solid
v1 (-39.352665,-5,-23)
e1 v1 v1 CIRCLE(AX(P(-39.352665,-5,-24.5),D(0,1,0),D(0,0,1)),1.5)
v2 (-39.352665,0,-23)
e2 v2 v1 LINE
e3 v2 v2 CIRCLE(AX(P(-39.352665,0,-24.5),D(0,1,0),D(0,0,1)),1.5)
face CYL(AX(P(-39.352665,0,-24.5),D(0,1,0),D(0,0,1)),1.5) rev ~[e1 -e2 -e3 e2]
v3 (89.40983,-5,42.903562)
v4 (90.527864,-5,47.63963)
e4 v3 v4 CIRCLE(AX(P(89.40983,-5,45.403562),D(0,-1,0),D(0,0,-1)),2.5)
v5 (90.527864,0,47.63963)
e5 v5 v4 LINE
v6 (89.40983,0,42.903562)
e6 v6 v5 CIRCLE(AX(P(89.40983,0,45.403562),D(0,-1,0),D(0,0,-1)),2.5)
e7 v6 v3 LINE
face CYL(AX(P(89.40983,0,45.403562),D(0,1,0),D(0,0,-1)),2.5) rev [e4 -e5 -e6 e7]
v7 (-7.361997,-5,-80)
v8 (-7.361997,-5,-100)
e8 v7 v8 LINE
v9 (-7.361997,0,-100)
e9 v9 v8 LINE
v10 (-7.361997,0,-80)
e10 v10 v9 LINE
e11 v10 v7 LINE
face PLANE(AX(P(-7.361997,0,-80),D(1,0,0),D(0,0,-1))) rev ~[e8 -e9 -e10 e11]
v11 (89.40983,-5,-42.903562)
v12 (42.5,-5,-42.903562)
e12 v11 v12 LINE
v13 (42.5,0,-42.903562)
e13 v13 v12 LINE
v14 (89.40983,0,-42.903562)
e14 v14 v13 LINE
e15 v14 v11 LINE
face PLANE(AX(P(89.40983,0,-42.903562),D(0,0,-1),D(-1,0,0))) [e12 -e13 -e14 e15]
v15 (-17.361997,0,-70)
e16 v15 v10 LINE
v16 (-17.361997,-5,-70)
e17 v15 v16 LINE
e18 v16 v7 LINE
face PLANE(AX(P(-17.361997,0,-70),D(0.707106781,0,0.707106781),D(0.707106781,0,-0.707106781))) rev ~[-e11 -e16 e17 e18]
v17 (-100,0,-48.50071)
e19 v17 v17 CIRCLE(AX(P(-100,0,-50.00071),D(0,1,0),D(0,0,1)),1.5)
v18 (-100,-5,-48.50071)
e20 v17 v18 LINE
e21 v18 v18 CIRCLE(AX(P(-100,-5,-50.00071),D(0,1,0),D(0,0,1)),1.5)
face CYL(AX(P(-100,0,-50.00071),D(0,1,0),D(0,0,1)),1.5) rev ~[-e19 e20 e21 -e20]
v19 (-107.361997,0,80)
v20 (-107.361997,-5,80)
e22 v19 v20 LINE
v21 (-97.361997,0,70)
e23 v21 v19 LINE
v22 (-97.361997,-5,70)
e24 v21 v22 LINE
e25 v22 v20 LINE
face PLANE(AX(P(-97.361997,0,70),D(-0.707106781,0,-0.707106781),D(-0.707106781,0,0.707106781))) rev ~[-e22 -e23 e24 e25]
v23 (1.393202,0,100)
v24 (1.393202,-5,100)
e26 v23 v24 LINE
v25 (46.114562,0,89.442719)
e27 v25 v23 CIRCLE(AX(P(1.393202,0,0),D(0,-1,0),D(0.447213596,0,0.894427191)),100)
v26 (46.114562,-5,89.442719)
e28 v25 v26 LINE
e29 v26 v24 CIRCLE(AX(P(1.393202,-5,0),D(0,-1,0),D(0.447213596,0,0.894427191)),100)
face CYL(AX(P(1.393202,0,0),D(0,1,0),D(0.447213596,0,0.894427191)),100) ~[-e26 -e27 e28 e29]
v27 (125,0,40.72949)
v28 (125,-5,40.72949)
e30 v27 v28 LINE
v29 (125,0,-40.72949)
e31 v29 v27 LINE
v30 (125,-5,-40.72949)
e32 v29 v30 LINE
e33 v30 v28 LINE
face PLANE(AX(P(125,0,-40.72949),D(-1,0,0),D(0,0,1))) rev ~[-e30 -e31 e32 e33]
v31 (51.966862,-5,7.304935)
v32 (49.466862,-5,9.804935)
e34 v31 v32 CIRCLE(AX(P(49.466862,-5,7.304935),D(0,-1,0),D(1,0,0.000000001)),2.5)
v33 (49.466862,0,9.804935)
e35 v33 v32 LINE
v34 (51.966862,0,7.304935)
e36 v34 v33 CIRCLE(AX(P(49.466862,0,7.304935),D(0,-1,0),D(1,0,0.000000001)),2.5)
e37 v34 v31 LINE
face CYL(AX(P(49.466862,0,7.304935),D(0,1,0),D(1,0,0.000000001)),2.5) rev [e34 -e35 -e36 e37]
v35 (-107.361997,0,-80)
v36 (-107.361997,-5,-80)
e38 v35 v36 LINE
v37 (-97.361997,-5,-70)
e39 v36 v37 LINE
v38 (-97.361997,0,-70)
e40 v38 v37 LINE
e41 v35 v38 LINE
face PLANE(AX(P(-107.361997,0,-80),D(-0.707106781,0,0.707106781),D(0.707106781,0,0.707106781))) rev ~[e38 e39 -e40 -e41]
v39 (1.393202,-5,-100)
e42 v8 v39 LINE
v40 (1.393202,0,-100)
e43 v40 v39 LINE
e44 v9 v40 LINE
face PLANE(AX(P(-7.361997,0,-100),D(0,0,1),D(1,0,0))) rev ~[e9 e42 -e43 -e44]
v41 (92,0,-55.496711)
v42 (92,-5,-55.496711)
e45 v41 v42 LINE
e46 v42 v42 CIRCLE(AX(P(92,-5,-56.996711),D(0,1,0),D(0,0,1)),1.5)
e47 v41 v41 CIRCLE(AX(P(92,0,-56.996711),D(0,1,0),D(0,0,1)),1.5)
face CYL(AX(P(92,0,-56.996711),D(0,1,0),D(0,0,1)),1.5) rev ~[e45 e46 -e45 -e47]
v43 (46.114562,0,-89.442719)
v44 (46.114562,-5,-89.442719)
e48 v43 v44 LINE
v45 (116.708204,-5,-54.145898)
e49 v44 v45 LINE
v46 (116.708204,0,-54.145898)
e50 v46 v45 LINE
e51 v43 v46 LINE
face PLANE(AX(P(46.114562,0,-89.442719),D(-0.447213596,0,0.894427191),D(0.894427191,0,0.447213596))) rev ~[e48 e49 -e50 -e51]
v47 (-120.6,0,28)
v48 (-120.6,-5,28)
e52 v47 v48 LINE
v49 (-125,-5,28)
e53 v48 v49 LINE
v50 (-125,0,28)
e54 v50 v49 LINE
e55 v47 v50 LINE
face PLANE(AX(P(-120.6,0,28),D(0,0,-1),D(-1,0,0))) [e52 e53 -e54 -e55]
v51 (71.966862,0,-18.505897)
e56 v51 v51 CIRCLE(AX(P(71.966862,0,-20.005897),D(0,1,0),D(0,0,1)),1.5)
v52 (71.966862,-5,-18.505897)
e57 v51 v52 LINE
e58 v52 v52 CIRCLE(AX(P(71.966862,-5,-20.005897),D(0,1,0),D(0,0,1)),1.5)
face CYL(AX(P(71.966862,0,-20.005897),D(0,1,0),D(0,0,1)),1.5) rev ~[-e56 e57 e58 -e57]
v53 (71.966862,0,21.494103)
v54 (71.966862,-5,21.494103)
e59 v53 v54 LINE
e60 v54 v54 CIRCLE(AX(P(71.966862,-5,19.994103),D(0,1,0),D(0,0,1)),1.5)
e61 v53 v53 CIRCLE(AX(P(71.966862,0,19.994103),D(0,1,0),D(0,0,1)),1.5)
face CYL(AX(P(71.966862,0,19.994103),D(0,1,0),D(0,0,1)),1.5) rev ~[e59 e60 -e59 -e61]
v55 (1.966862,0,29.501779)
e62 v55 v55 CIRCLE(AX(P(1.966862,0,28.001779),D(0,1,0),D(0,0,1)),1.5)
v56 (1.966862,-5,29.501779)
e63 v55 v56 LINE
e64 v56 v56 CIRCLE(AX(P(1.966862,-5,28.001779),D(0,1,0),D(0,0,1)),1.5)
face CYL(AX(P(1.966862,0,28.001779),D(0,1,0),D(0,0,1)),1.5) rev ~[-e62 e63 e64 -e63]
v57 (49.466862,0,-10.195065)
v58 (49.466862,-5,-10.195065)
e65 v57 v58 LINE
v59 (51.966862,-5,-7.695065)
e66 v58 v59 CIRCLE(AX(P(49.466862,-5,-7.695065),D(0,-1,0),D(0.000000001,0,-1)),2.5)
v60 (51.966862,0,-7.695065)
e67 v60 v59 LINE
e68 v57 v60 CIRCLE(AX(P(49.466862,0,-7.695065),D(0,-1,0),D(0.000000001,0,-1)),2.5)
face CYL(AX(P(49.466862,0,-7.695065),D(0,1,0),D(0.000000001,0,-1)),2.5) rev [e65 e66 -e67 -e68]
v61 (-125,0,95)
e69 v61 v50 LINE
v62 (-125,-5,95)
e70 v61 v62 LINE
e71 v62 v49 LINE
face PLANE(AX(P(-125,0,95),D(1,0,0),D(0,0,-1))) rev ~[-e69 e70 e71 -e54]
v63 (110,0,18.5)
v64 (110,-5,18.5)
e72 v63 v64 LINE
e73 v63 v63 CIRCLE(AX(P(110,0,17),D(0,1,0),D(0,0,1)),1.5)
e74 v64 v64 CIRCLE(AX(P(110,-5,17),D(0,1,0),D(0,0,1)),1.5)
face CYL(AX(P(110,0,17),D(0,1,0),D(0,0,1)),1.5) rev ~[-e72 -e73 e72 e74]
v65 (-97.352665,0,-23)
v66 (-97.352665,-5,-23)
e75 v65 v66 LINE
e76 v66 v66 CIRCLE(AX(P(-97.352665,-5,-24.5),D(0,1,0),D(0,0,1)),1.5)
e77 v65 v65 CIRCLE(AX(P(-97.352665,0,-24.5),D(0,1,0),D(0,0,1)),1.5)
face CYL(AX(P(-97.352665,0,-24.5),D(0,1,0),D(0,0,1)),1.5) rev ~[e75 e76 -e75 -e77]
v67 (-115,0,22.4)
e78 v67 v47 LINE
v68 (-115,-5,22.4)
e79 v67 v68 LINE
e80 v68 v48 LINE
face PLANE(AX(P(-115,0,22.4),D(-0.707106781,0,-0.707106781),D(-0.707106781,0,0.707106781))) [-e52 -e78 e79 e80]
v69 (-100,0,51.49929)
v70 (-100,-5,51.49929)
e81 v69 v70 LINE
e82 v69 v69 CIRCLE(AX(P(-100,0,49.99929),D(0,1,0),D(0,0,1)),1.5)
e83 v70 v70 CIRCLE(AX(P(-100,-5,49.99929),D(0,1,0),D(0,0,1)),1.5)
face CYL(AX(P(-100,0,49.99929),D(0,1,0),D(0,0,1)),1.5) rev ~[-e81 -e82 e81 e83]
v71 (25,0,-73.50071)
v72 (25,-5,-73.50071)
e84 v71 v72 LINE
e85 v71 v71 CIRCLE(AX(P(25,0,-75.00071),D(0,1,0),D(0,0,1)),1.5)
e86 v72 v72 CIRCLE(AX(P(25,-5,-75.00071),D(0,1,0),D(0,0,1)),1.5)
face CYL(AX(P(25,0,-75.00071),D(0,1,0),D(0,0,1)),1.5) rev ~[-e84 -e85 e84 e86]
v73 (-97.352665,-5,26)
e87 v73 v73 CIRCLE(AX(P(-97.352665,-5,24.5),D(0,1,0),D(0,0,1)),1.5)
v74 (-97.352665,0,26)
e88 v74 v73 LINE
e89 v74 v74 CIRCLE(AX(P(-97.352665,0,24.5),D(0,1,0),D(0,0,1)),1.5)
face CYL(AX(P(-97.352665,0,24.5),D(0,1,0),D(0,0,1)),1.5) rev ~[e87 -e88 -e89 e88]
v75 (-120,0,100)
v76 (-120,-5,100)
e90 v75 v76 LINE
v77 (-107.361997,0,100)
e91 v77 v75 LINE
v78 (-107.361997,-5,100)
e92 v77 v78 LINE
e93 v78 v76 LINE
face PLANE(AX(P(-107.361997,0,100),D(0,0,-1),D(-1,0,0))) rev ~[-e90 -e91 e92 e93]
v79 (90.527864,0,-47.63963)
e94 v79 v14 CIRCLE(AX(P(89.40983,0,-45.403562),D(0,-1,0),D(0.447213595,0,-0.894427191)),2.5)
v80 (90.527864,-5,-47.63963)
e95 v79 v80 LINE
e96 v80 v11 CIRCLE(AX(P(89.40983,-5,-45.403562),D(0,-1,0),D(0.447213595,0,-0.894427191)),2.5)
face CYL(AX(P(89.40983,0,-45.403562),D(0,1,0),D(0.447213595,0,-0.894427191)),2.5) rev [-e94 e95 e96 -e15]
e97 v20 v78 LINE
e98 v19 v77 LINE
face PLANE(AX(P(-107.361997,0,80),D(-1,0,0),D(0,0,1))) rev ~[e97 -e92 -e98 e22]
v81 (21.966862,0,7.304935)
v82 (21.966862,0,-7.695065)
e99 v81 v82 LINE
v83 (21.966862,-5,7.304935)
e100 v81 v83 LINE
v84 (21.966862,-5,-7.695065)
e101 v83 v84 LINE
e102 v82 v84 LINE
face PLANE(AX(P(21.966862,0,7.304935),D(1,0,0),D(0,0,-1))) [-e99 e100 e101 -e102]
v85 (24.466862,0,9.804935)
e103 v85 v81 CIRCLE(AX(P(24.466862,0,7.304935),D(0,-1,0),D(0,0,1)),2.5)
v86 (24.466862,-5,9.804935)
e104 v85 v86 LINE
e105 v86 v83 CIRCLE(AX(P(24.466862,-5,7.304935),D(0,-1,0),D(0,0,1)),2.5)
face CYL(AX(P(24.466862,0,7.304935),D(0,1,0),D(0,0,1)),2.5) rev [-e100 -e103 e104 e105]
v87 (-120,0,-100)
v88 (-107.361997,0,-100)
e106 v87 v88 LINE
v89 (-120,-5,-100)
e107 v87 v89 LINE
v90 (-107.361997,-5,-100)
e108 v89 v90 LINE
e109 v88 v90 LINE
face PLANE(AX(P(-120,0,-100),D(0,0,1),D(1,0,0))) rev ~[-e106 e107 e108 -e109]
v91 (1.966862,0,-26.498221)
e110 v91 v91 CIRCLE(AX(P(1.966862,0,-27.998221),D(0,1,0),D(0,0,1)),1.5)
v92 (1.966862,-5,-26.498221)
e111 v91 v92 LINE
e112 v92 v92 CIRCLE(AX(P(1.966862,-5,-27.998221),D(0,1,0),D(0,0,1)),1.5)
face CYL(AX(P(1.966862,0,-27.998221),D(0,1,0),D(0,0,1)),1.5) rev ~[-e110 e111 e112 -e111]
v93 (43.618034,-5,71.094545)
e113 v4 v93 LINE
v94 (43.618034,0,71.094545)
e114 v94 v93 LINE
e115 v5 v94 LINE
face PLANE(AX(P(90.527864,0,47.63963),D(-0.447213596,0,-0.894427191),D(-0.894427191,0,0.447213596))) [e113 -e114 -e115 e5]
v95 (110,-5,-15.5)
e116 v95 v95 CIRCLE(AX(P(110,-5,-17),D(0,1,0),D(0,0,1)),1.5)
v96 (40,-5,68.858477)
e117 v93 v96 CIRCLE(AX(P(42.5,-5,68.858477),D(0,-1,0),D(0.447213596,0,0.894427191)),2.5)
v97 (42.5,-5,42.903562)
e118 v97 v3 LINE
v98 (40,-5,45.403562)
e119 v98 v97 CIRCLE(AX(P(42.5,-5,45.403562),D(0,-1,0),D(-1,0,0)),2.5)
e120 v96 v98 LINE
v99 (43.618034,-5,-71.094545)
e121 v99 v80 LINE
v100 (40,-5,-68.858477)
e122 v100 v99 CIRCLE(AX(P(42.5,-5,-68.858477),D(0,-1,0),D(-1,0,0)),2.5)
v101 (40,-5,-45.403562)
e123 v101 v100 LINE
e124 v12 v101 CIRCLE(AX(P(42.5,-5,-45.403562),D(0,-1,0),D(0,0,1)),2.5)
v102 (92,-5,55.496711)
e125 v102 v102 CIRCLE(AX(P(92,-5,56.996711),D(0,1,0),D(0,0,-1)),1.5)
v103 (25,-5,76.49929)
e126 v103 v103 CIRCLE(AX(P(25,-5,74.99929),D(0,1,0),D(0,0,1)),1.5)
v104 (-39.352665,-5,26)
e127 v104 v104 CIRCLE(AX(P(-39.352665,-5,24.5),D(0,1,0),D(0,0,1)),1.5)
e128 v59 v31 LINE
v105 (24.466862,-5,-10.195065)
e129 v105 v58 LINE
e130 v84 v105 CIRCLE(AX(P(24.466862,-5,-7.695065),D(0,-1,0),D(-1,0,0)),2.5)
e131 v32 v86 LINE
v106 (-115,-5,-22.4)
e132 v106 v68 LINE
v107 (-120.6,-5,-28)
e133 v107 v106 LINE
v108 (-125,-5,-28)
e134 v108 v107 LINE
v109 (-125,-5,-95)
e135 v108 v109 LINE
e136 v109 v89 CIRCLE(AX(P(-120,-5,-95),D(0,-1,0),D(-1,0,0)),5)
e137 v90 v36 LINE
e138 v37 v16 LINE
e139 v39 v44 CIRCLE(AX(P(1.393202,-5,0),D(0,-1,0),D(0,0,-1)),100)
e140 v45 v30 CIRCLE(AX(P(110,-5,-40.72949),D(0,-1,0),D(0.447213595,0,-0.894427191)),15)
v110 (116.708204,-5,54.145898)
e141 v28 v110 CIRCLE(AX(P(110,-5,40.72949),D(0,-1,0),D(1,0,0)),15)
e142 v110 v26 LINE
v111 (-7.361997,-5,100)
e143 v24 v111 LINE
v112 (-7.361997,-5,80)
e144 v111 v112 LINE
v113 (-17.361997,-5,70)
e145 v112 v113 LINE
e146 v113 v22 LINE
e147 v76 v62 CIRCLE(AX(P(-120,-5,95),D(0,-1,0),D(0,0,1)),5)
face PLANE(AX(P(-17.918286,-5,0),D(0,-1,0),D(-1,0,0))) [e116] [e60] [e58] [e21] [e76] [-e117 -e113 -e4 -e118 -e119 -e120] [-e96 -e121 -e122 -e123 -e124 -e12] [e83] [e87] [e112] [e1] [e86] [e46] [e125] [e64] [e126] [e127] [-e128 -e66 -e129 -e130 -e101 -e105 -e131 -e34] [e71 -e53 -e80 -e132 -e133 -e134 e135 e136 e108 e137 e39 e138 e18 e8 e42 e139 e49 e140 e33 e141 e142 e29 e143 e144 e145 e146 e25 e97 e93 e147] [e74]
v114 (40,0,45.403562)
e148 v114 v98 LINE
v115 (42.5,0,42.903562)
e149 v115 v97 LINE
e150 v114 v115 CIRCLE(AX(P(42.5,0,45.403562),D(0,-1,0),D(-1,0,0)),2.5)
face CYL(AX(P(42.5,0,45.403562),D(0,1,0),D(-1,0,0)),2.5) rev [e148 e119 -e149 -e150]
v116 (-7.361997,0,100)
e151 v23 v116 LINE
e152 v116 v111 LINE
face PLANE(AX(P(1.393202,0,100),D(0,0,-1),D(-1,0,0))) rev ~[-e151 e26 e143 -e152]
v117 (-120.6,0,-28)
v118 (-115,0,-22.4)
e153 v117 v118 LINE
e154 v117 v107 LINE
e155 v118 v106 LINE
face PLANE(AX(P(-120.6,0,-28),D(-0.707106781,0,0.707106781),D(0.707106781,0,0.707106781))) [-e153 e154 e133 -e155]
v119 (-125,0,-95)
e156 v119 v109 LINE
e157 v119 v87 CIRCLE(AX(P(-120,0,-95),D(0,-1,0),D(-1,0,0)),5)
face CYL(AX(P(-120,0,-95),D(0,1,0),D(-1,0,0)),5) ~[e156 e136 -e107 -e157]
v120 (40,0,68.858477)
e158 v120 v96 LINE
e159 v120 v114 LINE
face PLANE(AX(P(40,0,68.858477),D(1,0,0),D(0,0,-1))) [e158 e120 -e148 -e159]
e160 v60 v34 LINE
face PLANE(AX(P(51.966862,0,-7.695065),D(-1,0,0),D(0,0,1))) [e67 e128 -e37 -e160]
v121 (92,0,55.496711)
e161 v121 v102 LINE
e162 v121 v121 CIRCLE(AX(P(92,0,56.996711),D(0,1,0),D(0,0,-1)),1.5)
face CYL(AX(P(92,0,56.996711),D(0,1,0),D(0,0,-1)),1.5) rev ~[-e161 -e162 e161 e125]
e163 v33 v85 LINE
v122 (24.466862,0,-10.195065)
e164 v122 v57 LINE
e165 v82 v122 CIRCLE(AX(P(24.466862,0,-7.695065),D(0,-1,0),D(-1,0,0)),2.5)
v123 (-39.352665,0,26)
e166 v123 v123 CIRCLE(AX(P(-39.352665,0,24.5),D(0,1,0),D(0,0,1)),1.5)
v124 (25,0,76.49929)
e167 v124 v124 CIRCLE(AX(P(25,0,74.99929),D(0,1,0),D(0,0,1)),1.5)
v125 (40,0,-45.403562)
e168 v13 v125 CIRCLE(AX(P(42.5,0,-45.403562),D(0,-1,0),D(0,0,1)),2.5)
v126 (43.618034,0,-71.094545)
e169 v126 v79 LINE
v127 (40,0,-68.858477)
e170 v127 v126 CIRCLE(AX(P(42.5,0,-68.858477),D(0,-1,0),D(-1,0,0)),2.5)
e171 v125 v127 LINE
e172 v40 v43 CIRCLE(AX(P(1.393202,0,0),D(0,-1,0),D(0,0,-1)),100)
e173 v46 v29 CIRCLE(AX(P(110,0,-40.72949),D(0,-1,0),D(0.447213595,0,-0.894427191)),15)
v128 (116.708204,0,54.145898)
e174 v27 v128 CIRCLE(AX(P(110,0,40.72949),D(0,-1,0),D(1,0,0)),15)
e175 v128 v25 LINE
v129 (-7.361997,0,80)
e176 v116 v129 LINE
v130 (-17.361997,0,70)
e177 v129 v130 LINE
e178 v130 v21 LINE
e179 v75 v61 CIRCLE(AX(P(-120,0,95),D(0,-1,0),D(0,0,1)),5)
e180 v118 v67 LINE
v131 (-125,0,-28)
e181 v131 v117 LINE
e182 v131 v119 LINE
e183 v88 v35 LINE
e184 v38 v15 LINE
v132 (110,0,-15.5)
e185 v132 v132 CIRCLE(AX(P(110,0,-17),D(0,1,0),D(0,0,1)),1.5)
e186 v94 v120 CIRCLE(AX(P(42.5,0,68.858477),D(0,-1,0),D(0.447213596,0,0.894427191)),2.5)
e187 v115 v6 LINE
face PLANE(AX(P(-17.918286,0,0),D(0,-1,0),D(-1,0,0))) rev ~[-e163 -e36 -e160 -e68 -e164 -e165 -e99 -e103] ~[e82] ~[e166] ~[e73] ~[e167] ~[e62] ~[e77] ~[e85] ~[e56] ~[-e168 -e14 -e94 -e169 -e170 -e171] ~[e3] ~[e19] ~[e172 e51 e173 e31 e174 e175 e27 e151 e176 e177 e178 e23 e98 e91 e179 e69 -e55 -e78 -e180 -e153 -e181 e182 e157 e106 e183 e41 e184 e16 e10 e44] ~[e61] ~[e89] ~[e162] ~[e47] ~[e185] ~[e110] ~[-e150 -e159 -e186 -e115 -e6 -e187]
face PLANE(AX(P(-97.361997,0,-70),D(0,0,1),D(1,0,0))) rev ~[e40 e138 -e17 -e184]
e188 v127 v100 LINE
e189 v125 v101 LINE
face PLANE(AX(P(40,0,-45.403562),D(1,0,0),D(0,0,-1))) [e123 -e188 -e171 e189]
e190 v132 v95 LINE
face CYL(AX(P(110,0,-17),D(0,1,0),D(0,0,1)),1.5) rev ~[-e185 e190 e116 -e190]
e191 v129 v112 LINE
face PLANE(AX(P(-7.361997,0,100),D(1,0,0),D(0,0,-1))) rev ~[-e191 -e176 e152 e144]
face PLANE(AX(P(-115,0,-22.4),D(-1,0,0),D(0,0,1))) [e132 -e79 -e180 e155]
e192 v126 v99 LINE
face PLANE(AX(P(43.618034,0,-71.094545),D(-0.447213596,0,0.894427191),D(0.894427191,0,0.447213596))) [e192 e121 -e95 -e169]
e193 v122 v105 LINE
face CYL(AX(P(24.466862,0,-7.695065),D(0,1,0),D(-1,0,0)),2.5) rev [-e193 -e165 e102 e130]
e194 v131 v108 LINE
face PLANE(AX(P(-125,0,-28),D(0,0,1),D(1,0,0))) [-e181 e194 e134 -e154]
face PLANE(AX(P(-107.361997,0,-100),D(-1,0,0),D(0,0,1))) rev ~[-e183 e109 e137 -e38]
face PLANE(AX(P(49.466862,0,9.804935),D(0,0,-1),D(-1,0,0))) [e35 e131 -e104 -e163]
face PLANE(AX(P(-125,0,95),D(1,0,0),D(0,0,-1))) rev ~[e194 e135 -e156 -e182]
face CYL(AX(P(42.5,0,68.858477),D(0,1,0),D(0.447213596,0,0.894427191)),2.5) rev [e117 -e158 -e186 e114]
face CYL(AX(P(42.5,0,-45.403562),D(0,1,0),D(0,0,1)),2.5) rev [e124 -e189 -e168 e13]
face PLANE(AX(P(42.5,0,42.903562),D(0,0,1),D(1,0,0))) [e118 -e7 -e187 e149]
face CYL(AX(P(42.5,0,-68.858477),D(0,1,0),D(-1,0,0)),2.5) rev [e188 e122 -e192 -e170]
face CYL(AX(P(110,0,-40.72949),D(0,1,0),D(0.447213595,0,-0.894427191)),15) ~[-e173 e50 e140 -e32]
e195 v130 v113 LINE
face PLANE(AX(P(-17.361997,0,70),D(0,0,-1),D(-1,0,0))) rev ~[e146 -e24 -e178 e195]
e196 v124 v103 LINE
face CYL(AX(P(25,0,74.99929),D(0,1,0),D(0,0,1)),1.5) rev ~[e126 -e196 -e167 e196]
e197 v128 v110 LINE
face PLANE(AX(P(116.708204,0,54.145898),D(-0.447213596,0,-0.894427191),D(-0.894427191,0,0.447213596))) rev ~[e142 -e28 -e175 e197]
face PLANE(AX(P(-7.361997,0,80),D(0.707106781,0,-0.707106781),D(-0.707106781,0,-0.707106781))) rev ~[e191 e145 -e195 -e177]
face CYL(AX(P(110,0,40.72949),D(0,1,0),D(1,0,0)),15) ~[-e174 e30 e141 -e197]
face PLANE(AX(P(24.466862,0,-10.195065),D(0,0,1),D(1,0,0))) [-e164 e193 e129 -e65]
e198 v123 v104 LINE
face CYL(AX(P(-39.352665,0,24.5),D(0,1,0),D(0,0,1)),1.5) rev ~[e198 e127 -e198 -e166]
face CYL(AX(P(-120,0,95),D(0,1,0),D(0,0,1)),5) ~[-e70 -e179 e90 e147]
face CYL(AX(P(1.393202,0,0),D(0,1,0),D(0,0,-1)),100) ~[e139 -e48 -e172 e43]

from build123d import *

# Parameters (mm, degrees)
BOSS_EXTRUDE2_DEPTH = 5
SKETCH7_R           = 1.5
CUT_EXTRUDE6_DEPTH  = 5
SKETCH2_R           = 1.5
CUT_EXTRUDE7_DEPTH  = 5
SKETCH4_R           = 1.5
CUT_EXTRUDE8_DEPTH  = 5
SKETCH10_R          = 1.5
CUT_EXTRUDE9_DEPTH  = 5
CUT_EXTRUDE10_DEPTH = 5
SKETCH15_R          = 1.5
CUT_EXTRUDE11_DEPTH = 161.15617378
CUT_EXTRUDE12_DEPTH = 5


with BuildPart() as part:
    # Sketch1 → Boss-Extrude2 (new body)
    with BuildSketch(Plane(origin=(0, 0, 0), x_dir=(1, 0, 0), z_dir=(0, 1, 0))):
        with BuildLine():
            Line((-120, 100), (-107.361996995, 100))
            Line((-107.361996995, 100), (-107.361996995, 80))
            Line((-107.361996995, 80), (-97.361996995, 70))
            Line((-97.361996995, 70), (-17.361996995, 70))
            Line((-17.361996995, 70), (-7.361996995, 80))
            Line((-7.361996995, 80), (-7.361996995, 100))
            Line((-7.361996995, 100), (1.39320225, 100))
            ThreePointArc((1.39320225, 100), (24.368494305, 97.324898947), (46.1145618, 89.4427191))
            Line((46.1145618, 89.4427191), (116.708203932, 54.145898034))
            ThreePointArc((116.708203932, 54.145898034), (122.759762125, 48.615456851), (125, 40.729490169))
            Line((125, 40.729490169), (125, -40.729490169))
            ThreePointArc((125, -40.729490169), (122.759762125, -48.615456851), (116.708203932, -54.145898034))
            Line((116.708203932, -54.145898034), (46.1145618, -89.4427191))
            ThreePointArc((46.1145618, -89.4427191), (24.368494305, -97.324898947), (1.39320225, -100))
            Line((1.39320225, -100), (-7.361996995, -100))
            Line((-7.361996995, -100), (-7.361996995, -80))
            Line((-7.361996995, -80), (-17.361996995, -70))
            Line((-17.361996995, -70), (-97.361996995, -70))
            Line((-97.361996995, -70), (-107.361996995, -80))
            Line((-107.361996995, -80), (-107.361996995, -100))
            Line((-107.361996995, -100), (-120, -100))
            ThreePointArc((-120, -100), (-123.535533906, -98.535533906), (-125, -95))
            Line((-125, -95), (-125, 95))
            ThreePointArc((-125, 95), (-123.535533906, 98.535533906), (-120, 100))
        make_face()
    extrude(amount=-BOSS_EXTRUDE2_DEPTH)

    # Sketch7 → Cut-Extrude6 (cut)
    with BuildSketch(Plane(origin=(0, 0, 0), x_dir=(1, 0, 0), z_dir=(0, 1, 0))):
        with Locations(Location((1.966861521, 27.998221343, 0), (0, 0, 270))):
            Circle(SKETCH7_R)
        with Locations(Location((71.966861521, 20.005897242, 0), (0, 0, 270))):
            Circle(SKETCH7_R)
        with Locations(Location((1.966861521, -28.001778657, 0), (0, 0, 270))):
            Circle(SKETCH7_R)
        with Locations(Location((71.966861521, -19.994102758, 0), (0, 0, 270))):
            Circle(SKETCH7_R)
        with BuildLine():
            Line((24.466861521, 10.195064991), (49.466861521, 10.195064991))
            ThreePointArc((49.466861521, 10.195064991), (51.234628473, 9.462831944), (51.966861521, 7.695064991))
            Line((51.966861521, 7.695064991), (51.966861521, -7.304935009))
            ThreePointArc((51.966861521, -7.304935009), (51.234628473, -9.072701962), (49.466861521, -9.804935009))
            Line((49.466861521, -9.804935009), (24.466861521, -9.804935009))
            ThreePointArc((24.466861521, -9.804935009), (22.699094568, -9.072701962), (21.966861521, -7.304935009))
            Line((21.966861521, -7.304935009), (21.966861521, 7.695064991))
            ThreePointArc((21.966861521, 7.695064991), (22.699094568, 9.462831944), (24.466861521, 10.195064991))
        make_face()
    extrude(amount=-CUT_EXTRUDE6_DEPTH, mode=Mode.SUBTRACT)

    # Sketch2 → Cut-Extrude7 (cut)
    with BuildSketch(Plane(origin=(0, 0, 0), x_dir=(1, 0, 0), z_dir=(0, 1, 0))):
        with Locations(Location((110, 17, 0), (0, 0, 270))):
            Circle(SKETCH2_R)
        with Locations(Location((110, -17, 0), (0, 0, 270))):
            Circle(SKETCH2_R)
    extrude(amount=-CUT_EXTRUDE7_DEPTH, mode=Mode.SUBTRACT)

    # Sketch4 → Cut-Extrude8 (cut)
    with BuildSketch(Plane(origin=(0, 0, 0), x_dir=(1, 0, 0), z_dir=(0, 1, 0))):
        with Locations(Location((-97.352664983, -24.5, 0), (0, 0, 270))):
            Circle(SKETCH4_R)
        with Locations(Location((-39.352664983, 24.5, 0), (0, 0, 270))):
            Circle(SKETCH4_R)
        with Locations(Location((-97.352664983, 24.5, 0), (0, 0, 270))):
            Circle(SKETCH4_R)
        with Locations(Location((-39.352664983, -24.5, 0), (0, 0, 270))):
            Circle(SKETCH4_R)
    extrude(amount=-CUT_EXTRUDE8_DEPTH, mode=Mode.SUBTRACT)

    # Sketch10 → Cut-Extrude9 (cut)
    with BuildSketch(Plane(origin=(0, 0, 0), x_dir=(1, 0, 0), z_dir=(0, 1, 0))):
        with Locations(Location((-100, 50.00070964, 0), (0, 0, 270))):
            Circle(SKETCH10_R)
        with Locations(Location((-100, -49.99929036, 0), (0, 0, 270))):
            Circle(SKETCH10_R)
        with Locations(Location((25, 75.00070964, 0), (0, 0, 270))):
            Circle(SKETCH10_R)
        with Locations(Location((25, -74.99929036, 0), (0, 0, 270))):
            Circle(SKETCH10_R)
    extrude(amount=-CUT_EXTRUDE9_DEPTH, mode=Mode.SUBTRACT)

    # Sketch11 → Cut-Extrude10 (cut)
    with BuildSketch(Plane(origin=(0, 0, 0), x_dir=(1, 0, 0), z_dir=(0, 1, 0))):
        with BuildLine():
            Line((43.618033989, 71.094545302), (90.527864045, 47.639630274))
            ThreePointArc((90.527864045, 47.639630274), (91.84295253, 44.829179995), (89.409830056, 42.903562297))
            Line((89.409830056, 42.903562297), (42.5, 42.903562297))
            ThreePointArc((42.5, 42.903562297), (40.732233047, 43.635795344), (40, 45.403562297))
            Line((40, 45.403562297), (40, 68.858477325))
            ThreePointArc((40, 68.858477325), (41.18567222, 70.985104346), (43.618033989, 71.094545302))
        make_face()
        with BuildLine():
            Line((40, -68.858477325), (40, -45.403562297))
            ThreePointArc((40, -45.403562297), (40.732233047, -43.635795344), (42.5, -42.903562297))
            Line((42.5, -42.903562297), (89.409830056, -42.903562297))
            ThreePointArc((89.409830056, -42.903562297), (91.84295253, -44.829179995), (90.527864045, -47.639630274))
            Line((90.527864045, -47.639630274), (43.618033989, -71.094545302))
            ThreePointArc((43.618033989, -71.094545302), (41.18567222, -70.985104346), (40, -68.858477325))
        make_face()
    extrude(amount=-CUT_EXTRUDE10_DEPTH, mode=Mode.SUBTRACT)

    # Sketch15 → Cut-Extrude11 (cut, through all)
    with BuildSketch(Plane(origin=(0, 0, 0), x_dir=(1, 0, 0), z_dir=(0, 1, 0))):
        with Locations(Location((92, 56.996711096, 0), (0, 0, 270))):
            Circle(SKETCH15_R)
        with Locations(Location((92, -56.996711096, 0), (0, 0, 90))):
            Circle(SKETCH15_R)
    extrude(amount=-CUT_EXTRUDE11_DEPTH, mode=Mode.SUBTRACT)

    # Sketch16 → Cut-Extrude12 (cut)
    with BuildSketch(Plane(origin=(0, 0, 0), x_dir=(1, 0, 0), z_dir=(0, 1, 0))):
        Polygon((-125, 28), (-120.6, 28), (-115, 22.4), (-115, -22.4), (-120.6, -28), (-125, -28), align=None)
    extrude(amount=-CUT_EXTRUDE12_DEPTH, mode=Mode.SUBTRACT)


solid = part.part
